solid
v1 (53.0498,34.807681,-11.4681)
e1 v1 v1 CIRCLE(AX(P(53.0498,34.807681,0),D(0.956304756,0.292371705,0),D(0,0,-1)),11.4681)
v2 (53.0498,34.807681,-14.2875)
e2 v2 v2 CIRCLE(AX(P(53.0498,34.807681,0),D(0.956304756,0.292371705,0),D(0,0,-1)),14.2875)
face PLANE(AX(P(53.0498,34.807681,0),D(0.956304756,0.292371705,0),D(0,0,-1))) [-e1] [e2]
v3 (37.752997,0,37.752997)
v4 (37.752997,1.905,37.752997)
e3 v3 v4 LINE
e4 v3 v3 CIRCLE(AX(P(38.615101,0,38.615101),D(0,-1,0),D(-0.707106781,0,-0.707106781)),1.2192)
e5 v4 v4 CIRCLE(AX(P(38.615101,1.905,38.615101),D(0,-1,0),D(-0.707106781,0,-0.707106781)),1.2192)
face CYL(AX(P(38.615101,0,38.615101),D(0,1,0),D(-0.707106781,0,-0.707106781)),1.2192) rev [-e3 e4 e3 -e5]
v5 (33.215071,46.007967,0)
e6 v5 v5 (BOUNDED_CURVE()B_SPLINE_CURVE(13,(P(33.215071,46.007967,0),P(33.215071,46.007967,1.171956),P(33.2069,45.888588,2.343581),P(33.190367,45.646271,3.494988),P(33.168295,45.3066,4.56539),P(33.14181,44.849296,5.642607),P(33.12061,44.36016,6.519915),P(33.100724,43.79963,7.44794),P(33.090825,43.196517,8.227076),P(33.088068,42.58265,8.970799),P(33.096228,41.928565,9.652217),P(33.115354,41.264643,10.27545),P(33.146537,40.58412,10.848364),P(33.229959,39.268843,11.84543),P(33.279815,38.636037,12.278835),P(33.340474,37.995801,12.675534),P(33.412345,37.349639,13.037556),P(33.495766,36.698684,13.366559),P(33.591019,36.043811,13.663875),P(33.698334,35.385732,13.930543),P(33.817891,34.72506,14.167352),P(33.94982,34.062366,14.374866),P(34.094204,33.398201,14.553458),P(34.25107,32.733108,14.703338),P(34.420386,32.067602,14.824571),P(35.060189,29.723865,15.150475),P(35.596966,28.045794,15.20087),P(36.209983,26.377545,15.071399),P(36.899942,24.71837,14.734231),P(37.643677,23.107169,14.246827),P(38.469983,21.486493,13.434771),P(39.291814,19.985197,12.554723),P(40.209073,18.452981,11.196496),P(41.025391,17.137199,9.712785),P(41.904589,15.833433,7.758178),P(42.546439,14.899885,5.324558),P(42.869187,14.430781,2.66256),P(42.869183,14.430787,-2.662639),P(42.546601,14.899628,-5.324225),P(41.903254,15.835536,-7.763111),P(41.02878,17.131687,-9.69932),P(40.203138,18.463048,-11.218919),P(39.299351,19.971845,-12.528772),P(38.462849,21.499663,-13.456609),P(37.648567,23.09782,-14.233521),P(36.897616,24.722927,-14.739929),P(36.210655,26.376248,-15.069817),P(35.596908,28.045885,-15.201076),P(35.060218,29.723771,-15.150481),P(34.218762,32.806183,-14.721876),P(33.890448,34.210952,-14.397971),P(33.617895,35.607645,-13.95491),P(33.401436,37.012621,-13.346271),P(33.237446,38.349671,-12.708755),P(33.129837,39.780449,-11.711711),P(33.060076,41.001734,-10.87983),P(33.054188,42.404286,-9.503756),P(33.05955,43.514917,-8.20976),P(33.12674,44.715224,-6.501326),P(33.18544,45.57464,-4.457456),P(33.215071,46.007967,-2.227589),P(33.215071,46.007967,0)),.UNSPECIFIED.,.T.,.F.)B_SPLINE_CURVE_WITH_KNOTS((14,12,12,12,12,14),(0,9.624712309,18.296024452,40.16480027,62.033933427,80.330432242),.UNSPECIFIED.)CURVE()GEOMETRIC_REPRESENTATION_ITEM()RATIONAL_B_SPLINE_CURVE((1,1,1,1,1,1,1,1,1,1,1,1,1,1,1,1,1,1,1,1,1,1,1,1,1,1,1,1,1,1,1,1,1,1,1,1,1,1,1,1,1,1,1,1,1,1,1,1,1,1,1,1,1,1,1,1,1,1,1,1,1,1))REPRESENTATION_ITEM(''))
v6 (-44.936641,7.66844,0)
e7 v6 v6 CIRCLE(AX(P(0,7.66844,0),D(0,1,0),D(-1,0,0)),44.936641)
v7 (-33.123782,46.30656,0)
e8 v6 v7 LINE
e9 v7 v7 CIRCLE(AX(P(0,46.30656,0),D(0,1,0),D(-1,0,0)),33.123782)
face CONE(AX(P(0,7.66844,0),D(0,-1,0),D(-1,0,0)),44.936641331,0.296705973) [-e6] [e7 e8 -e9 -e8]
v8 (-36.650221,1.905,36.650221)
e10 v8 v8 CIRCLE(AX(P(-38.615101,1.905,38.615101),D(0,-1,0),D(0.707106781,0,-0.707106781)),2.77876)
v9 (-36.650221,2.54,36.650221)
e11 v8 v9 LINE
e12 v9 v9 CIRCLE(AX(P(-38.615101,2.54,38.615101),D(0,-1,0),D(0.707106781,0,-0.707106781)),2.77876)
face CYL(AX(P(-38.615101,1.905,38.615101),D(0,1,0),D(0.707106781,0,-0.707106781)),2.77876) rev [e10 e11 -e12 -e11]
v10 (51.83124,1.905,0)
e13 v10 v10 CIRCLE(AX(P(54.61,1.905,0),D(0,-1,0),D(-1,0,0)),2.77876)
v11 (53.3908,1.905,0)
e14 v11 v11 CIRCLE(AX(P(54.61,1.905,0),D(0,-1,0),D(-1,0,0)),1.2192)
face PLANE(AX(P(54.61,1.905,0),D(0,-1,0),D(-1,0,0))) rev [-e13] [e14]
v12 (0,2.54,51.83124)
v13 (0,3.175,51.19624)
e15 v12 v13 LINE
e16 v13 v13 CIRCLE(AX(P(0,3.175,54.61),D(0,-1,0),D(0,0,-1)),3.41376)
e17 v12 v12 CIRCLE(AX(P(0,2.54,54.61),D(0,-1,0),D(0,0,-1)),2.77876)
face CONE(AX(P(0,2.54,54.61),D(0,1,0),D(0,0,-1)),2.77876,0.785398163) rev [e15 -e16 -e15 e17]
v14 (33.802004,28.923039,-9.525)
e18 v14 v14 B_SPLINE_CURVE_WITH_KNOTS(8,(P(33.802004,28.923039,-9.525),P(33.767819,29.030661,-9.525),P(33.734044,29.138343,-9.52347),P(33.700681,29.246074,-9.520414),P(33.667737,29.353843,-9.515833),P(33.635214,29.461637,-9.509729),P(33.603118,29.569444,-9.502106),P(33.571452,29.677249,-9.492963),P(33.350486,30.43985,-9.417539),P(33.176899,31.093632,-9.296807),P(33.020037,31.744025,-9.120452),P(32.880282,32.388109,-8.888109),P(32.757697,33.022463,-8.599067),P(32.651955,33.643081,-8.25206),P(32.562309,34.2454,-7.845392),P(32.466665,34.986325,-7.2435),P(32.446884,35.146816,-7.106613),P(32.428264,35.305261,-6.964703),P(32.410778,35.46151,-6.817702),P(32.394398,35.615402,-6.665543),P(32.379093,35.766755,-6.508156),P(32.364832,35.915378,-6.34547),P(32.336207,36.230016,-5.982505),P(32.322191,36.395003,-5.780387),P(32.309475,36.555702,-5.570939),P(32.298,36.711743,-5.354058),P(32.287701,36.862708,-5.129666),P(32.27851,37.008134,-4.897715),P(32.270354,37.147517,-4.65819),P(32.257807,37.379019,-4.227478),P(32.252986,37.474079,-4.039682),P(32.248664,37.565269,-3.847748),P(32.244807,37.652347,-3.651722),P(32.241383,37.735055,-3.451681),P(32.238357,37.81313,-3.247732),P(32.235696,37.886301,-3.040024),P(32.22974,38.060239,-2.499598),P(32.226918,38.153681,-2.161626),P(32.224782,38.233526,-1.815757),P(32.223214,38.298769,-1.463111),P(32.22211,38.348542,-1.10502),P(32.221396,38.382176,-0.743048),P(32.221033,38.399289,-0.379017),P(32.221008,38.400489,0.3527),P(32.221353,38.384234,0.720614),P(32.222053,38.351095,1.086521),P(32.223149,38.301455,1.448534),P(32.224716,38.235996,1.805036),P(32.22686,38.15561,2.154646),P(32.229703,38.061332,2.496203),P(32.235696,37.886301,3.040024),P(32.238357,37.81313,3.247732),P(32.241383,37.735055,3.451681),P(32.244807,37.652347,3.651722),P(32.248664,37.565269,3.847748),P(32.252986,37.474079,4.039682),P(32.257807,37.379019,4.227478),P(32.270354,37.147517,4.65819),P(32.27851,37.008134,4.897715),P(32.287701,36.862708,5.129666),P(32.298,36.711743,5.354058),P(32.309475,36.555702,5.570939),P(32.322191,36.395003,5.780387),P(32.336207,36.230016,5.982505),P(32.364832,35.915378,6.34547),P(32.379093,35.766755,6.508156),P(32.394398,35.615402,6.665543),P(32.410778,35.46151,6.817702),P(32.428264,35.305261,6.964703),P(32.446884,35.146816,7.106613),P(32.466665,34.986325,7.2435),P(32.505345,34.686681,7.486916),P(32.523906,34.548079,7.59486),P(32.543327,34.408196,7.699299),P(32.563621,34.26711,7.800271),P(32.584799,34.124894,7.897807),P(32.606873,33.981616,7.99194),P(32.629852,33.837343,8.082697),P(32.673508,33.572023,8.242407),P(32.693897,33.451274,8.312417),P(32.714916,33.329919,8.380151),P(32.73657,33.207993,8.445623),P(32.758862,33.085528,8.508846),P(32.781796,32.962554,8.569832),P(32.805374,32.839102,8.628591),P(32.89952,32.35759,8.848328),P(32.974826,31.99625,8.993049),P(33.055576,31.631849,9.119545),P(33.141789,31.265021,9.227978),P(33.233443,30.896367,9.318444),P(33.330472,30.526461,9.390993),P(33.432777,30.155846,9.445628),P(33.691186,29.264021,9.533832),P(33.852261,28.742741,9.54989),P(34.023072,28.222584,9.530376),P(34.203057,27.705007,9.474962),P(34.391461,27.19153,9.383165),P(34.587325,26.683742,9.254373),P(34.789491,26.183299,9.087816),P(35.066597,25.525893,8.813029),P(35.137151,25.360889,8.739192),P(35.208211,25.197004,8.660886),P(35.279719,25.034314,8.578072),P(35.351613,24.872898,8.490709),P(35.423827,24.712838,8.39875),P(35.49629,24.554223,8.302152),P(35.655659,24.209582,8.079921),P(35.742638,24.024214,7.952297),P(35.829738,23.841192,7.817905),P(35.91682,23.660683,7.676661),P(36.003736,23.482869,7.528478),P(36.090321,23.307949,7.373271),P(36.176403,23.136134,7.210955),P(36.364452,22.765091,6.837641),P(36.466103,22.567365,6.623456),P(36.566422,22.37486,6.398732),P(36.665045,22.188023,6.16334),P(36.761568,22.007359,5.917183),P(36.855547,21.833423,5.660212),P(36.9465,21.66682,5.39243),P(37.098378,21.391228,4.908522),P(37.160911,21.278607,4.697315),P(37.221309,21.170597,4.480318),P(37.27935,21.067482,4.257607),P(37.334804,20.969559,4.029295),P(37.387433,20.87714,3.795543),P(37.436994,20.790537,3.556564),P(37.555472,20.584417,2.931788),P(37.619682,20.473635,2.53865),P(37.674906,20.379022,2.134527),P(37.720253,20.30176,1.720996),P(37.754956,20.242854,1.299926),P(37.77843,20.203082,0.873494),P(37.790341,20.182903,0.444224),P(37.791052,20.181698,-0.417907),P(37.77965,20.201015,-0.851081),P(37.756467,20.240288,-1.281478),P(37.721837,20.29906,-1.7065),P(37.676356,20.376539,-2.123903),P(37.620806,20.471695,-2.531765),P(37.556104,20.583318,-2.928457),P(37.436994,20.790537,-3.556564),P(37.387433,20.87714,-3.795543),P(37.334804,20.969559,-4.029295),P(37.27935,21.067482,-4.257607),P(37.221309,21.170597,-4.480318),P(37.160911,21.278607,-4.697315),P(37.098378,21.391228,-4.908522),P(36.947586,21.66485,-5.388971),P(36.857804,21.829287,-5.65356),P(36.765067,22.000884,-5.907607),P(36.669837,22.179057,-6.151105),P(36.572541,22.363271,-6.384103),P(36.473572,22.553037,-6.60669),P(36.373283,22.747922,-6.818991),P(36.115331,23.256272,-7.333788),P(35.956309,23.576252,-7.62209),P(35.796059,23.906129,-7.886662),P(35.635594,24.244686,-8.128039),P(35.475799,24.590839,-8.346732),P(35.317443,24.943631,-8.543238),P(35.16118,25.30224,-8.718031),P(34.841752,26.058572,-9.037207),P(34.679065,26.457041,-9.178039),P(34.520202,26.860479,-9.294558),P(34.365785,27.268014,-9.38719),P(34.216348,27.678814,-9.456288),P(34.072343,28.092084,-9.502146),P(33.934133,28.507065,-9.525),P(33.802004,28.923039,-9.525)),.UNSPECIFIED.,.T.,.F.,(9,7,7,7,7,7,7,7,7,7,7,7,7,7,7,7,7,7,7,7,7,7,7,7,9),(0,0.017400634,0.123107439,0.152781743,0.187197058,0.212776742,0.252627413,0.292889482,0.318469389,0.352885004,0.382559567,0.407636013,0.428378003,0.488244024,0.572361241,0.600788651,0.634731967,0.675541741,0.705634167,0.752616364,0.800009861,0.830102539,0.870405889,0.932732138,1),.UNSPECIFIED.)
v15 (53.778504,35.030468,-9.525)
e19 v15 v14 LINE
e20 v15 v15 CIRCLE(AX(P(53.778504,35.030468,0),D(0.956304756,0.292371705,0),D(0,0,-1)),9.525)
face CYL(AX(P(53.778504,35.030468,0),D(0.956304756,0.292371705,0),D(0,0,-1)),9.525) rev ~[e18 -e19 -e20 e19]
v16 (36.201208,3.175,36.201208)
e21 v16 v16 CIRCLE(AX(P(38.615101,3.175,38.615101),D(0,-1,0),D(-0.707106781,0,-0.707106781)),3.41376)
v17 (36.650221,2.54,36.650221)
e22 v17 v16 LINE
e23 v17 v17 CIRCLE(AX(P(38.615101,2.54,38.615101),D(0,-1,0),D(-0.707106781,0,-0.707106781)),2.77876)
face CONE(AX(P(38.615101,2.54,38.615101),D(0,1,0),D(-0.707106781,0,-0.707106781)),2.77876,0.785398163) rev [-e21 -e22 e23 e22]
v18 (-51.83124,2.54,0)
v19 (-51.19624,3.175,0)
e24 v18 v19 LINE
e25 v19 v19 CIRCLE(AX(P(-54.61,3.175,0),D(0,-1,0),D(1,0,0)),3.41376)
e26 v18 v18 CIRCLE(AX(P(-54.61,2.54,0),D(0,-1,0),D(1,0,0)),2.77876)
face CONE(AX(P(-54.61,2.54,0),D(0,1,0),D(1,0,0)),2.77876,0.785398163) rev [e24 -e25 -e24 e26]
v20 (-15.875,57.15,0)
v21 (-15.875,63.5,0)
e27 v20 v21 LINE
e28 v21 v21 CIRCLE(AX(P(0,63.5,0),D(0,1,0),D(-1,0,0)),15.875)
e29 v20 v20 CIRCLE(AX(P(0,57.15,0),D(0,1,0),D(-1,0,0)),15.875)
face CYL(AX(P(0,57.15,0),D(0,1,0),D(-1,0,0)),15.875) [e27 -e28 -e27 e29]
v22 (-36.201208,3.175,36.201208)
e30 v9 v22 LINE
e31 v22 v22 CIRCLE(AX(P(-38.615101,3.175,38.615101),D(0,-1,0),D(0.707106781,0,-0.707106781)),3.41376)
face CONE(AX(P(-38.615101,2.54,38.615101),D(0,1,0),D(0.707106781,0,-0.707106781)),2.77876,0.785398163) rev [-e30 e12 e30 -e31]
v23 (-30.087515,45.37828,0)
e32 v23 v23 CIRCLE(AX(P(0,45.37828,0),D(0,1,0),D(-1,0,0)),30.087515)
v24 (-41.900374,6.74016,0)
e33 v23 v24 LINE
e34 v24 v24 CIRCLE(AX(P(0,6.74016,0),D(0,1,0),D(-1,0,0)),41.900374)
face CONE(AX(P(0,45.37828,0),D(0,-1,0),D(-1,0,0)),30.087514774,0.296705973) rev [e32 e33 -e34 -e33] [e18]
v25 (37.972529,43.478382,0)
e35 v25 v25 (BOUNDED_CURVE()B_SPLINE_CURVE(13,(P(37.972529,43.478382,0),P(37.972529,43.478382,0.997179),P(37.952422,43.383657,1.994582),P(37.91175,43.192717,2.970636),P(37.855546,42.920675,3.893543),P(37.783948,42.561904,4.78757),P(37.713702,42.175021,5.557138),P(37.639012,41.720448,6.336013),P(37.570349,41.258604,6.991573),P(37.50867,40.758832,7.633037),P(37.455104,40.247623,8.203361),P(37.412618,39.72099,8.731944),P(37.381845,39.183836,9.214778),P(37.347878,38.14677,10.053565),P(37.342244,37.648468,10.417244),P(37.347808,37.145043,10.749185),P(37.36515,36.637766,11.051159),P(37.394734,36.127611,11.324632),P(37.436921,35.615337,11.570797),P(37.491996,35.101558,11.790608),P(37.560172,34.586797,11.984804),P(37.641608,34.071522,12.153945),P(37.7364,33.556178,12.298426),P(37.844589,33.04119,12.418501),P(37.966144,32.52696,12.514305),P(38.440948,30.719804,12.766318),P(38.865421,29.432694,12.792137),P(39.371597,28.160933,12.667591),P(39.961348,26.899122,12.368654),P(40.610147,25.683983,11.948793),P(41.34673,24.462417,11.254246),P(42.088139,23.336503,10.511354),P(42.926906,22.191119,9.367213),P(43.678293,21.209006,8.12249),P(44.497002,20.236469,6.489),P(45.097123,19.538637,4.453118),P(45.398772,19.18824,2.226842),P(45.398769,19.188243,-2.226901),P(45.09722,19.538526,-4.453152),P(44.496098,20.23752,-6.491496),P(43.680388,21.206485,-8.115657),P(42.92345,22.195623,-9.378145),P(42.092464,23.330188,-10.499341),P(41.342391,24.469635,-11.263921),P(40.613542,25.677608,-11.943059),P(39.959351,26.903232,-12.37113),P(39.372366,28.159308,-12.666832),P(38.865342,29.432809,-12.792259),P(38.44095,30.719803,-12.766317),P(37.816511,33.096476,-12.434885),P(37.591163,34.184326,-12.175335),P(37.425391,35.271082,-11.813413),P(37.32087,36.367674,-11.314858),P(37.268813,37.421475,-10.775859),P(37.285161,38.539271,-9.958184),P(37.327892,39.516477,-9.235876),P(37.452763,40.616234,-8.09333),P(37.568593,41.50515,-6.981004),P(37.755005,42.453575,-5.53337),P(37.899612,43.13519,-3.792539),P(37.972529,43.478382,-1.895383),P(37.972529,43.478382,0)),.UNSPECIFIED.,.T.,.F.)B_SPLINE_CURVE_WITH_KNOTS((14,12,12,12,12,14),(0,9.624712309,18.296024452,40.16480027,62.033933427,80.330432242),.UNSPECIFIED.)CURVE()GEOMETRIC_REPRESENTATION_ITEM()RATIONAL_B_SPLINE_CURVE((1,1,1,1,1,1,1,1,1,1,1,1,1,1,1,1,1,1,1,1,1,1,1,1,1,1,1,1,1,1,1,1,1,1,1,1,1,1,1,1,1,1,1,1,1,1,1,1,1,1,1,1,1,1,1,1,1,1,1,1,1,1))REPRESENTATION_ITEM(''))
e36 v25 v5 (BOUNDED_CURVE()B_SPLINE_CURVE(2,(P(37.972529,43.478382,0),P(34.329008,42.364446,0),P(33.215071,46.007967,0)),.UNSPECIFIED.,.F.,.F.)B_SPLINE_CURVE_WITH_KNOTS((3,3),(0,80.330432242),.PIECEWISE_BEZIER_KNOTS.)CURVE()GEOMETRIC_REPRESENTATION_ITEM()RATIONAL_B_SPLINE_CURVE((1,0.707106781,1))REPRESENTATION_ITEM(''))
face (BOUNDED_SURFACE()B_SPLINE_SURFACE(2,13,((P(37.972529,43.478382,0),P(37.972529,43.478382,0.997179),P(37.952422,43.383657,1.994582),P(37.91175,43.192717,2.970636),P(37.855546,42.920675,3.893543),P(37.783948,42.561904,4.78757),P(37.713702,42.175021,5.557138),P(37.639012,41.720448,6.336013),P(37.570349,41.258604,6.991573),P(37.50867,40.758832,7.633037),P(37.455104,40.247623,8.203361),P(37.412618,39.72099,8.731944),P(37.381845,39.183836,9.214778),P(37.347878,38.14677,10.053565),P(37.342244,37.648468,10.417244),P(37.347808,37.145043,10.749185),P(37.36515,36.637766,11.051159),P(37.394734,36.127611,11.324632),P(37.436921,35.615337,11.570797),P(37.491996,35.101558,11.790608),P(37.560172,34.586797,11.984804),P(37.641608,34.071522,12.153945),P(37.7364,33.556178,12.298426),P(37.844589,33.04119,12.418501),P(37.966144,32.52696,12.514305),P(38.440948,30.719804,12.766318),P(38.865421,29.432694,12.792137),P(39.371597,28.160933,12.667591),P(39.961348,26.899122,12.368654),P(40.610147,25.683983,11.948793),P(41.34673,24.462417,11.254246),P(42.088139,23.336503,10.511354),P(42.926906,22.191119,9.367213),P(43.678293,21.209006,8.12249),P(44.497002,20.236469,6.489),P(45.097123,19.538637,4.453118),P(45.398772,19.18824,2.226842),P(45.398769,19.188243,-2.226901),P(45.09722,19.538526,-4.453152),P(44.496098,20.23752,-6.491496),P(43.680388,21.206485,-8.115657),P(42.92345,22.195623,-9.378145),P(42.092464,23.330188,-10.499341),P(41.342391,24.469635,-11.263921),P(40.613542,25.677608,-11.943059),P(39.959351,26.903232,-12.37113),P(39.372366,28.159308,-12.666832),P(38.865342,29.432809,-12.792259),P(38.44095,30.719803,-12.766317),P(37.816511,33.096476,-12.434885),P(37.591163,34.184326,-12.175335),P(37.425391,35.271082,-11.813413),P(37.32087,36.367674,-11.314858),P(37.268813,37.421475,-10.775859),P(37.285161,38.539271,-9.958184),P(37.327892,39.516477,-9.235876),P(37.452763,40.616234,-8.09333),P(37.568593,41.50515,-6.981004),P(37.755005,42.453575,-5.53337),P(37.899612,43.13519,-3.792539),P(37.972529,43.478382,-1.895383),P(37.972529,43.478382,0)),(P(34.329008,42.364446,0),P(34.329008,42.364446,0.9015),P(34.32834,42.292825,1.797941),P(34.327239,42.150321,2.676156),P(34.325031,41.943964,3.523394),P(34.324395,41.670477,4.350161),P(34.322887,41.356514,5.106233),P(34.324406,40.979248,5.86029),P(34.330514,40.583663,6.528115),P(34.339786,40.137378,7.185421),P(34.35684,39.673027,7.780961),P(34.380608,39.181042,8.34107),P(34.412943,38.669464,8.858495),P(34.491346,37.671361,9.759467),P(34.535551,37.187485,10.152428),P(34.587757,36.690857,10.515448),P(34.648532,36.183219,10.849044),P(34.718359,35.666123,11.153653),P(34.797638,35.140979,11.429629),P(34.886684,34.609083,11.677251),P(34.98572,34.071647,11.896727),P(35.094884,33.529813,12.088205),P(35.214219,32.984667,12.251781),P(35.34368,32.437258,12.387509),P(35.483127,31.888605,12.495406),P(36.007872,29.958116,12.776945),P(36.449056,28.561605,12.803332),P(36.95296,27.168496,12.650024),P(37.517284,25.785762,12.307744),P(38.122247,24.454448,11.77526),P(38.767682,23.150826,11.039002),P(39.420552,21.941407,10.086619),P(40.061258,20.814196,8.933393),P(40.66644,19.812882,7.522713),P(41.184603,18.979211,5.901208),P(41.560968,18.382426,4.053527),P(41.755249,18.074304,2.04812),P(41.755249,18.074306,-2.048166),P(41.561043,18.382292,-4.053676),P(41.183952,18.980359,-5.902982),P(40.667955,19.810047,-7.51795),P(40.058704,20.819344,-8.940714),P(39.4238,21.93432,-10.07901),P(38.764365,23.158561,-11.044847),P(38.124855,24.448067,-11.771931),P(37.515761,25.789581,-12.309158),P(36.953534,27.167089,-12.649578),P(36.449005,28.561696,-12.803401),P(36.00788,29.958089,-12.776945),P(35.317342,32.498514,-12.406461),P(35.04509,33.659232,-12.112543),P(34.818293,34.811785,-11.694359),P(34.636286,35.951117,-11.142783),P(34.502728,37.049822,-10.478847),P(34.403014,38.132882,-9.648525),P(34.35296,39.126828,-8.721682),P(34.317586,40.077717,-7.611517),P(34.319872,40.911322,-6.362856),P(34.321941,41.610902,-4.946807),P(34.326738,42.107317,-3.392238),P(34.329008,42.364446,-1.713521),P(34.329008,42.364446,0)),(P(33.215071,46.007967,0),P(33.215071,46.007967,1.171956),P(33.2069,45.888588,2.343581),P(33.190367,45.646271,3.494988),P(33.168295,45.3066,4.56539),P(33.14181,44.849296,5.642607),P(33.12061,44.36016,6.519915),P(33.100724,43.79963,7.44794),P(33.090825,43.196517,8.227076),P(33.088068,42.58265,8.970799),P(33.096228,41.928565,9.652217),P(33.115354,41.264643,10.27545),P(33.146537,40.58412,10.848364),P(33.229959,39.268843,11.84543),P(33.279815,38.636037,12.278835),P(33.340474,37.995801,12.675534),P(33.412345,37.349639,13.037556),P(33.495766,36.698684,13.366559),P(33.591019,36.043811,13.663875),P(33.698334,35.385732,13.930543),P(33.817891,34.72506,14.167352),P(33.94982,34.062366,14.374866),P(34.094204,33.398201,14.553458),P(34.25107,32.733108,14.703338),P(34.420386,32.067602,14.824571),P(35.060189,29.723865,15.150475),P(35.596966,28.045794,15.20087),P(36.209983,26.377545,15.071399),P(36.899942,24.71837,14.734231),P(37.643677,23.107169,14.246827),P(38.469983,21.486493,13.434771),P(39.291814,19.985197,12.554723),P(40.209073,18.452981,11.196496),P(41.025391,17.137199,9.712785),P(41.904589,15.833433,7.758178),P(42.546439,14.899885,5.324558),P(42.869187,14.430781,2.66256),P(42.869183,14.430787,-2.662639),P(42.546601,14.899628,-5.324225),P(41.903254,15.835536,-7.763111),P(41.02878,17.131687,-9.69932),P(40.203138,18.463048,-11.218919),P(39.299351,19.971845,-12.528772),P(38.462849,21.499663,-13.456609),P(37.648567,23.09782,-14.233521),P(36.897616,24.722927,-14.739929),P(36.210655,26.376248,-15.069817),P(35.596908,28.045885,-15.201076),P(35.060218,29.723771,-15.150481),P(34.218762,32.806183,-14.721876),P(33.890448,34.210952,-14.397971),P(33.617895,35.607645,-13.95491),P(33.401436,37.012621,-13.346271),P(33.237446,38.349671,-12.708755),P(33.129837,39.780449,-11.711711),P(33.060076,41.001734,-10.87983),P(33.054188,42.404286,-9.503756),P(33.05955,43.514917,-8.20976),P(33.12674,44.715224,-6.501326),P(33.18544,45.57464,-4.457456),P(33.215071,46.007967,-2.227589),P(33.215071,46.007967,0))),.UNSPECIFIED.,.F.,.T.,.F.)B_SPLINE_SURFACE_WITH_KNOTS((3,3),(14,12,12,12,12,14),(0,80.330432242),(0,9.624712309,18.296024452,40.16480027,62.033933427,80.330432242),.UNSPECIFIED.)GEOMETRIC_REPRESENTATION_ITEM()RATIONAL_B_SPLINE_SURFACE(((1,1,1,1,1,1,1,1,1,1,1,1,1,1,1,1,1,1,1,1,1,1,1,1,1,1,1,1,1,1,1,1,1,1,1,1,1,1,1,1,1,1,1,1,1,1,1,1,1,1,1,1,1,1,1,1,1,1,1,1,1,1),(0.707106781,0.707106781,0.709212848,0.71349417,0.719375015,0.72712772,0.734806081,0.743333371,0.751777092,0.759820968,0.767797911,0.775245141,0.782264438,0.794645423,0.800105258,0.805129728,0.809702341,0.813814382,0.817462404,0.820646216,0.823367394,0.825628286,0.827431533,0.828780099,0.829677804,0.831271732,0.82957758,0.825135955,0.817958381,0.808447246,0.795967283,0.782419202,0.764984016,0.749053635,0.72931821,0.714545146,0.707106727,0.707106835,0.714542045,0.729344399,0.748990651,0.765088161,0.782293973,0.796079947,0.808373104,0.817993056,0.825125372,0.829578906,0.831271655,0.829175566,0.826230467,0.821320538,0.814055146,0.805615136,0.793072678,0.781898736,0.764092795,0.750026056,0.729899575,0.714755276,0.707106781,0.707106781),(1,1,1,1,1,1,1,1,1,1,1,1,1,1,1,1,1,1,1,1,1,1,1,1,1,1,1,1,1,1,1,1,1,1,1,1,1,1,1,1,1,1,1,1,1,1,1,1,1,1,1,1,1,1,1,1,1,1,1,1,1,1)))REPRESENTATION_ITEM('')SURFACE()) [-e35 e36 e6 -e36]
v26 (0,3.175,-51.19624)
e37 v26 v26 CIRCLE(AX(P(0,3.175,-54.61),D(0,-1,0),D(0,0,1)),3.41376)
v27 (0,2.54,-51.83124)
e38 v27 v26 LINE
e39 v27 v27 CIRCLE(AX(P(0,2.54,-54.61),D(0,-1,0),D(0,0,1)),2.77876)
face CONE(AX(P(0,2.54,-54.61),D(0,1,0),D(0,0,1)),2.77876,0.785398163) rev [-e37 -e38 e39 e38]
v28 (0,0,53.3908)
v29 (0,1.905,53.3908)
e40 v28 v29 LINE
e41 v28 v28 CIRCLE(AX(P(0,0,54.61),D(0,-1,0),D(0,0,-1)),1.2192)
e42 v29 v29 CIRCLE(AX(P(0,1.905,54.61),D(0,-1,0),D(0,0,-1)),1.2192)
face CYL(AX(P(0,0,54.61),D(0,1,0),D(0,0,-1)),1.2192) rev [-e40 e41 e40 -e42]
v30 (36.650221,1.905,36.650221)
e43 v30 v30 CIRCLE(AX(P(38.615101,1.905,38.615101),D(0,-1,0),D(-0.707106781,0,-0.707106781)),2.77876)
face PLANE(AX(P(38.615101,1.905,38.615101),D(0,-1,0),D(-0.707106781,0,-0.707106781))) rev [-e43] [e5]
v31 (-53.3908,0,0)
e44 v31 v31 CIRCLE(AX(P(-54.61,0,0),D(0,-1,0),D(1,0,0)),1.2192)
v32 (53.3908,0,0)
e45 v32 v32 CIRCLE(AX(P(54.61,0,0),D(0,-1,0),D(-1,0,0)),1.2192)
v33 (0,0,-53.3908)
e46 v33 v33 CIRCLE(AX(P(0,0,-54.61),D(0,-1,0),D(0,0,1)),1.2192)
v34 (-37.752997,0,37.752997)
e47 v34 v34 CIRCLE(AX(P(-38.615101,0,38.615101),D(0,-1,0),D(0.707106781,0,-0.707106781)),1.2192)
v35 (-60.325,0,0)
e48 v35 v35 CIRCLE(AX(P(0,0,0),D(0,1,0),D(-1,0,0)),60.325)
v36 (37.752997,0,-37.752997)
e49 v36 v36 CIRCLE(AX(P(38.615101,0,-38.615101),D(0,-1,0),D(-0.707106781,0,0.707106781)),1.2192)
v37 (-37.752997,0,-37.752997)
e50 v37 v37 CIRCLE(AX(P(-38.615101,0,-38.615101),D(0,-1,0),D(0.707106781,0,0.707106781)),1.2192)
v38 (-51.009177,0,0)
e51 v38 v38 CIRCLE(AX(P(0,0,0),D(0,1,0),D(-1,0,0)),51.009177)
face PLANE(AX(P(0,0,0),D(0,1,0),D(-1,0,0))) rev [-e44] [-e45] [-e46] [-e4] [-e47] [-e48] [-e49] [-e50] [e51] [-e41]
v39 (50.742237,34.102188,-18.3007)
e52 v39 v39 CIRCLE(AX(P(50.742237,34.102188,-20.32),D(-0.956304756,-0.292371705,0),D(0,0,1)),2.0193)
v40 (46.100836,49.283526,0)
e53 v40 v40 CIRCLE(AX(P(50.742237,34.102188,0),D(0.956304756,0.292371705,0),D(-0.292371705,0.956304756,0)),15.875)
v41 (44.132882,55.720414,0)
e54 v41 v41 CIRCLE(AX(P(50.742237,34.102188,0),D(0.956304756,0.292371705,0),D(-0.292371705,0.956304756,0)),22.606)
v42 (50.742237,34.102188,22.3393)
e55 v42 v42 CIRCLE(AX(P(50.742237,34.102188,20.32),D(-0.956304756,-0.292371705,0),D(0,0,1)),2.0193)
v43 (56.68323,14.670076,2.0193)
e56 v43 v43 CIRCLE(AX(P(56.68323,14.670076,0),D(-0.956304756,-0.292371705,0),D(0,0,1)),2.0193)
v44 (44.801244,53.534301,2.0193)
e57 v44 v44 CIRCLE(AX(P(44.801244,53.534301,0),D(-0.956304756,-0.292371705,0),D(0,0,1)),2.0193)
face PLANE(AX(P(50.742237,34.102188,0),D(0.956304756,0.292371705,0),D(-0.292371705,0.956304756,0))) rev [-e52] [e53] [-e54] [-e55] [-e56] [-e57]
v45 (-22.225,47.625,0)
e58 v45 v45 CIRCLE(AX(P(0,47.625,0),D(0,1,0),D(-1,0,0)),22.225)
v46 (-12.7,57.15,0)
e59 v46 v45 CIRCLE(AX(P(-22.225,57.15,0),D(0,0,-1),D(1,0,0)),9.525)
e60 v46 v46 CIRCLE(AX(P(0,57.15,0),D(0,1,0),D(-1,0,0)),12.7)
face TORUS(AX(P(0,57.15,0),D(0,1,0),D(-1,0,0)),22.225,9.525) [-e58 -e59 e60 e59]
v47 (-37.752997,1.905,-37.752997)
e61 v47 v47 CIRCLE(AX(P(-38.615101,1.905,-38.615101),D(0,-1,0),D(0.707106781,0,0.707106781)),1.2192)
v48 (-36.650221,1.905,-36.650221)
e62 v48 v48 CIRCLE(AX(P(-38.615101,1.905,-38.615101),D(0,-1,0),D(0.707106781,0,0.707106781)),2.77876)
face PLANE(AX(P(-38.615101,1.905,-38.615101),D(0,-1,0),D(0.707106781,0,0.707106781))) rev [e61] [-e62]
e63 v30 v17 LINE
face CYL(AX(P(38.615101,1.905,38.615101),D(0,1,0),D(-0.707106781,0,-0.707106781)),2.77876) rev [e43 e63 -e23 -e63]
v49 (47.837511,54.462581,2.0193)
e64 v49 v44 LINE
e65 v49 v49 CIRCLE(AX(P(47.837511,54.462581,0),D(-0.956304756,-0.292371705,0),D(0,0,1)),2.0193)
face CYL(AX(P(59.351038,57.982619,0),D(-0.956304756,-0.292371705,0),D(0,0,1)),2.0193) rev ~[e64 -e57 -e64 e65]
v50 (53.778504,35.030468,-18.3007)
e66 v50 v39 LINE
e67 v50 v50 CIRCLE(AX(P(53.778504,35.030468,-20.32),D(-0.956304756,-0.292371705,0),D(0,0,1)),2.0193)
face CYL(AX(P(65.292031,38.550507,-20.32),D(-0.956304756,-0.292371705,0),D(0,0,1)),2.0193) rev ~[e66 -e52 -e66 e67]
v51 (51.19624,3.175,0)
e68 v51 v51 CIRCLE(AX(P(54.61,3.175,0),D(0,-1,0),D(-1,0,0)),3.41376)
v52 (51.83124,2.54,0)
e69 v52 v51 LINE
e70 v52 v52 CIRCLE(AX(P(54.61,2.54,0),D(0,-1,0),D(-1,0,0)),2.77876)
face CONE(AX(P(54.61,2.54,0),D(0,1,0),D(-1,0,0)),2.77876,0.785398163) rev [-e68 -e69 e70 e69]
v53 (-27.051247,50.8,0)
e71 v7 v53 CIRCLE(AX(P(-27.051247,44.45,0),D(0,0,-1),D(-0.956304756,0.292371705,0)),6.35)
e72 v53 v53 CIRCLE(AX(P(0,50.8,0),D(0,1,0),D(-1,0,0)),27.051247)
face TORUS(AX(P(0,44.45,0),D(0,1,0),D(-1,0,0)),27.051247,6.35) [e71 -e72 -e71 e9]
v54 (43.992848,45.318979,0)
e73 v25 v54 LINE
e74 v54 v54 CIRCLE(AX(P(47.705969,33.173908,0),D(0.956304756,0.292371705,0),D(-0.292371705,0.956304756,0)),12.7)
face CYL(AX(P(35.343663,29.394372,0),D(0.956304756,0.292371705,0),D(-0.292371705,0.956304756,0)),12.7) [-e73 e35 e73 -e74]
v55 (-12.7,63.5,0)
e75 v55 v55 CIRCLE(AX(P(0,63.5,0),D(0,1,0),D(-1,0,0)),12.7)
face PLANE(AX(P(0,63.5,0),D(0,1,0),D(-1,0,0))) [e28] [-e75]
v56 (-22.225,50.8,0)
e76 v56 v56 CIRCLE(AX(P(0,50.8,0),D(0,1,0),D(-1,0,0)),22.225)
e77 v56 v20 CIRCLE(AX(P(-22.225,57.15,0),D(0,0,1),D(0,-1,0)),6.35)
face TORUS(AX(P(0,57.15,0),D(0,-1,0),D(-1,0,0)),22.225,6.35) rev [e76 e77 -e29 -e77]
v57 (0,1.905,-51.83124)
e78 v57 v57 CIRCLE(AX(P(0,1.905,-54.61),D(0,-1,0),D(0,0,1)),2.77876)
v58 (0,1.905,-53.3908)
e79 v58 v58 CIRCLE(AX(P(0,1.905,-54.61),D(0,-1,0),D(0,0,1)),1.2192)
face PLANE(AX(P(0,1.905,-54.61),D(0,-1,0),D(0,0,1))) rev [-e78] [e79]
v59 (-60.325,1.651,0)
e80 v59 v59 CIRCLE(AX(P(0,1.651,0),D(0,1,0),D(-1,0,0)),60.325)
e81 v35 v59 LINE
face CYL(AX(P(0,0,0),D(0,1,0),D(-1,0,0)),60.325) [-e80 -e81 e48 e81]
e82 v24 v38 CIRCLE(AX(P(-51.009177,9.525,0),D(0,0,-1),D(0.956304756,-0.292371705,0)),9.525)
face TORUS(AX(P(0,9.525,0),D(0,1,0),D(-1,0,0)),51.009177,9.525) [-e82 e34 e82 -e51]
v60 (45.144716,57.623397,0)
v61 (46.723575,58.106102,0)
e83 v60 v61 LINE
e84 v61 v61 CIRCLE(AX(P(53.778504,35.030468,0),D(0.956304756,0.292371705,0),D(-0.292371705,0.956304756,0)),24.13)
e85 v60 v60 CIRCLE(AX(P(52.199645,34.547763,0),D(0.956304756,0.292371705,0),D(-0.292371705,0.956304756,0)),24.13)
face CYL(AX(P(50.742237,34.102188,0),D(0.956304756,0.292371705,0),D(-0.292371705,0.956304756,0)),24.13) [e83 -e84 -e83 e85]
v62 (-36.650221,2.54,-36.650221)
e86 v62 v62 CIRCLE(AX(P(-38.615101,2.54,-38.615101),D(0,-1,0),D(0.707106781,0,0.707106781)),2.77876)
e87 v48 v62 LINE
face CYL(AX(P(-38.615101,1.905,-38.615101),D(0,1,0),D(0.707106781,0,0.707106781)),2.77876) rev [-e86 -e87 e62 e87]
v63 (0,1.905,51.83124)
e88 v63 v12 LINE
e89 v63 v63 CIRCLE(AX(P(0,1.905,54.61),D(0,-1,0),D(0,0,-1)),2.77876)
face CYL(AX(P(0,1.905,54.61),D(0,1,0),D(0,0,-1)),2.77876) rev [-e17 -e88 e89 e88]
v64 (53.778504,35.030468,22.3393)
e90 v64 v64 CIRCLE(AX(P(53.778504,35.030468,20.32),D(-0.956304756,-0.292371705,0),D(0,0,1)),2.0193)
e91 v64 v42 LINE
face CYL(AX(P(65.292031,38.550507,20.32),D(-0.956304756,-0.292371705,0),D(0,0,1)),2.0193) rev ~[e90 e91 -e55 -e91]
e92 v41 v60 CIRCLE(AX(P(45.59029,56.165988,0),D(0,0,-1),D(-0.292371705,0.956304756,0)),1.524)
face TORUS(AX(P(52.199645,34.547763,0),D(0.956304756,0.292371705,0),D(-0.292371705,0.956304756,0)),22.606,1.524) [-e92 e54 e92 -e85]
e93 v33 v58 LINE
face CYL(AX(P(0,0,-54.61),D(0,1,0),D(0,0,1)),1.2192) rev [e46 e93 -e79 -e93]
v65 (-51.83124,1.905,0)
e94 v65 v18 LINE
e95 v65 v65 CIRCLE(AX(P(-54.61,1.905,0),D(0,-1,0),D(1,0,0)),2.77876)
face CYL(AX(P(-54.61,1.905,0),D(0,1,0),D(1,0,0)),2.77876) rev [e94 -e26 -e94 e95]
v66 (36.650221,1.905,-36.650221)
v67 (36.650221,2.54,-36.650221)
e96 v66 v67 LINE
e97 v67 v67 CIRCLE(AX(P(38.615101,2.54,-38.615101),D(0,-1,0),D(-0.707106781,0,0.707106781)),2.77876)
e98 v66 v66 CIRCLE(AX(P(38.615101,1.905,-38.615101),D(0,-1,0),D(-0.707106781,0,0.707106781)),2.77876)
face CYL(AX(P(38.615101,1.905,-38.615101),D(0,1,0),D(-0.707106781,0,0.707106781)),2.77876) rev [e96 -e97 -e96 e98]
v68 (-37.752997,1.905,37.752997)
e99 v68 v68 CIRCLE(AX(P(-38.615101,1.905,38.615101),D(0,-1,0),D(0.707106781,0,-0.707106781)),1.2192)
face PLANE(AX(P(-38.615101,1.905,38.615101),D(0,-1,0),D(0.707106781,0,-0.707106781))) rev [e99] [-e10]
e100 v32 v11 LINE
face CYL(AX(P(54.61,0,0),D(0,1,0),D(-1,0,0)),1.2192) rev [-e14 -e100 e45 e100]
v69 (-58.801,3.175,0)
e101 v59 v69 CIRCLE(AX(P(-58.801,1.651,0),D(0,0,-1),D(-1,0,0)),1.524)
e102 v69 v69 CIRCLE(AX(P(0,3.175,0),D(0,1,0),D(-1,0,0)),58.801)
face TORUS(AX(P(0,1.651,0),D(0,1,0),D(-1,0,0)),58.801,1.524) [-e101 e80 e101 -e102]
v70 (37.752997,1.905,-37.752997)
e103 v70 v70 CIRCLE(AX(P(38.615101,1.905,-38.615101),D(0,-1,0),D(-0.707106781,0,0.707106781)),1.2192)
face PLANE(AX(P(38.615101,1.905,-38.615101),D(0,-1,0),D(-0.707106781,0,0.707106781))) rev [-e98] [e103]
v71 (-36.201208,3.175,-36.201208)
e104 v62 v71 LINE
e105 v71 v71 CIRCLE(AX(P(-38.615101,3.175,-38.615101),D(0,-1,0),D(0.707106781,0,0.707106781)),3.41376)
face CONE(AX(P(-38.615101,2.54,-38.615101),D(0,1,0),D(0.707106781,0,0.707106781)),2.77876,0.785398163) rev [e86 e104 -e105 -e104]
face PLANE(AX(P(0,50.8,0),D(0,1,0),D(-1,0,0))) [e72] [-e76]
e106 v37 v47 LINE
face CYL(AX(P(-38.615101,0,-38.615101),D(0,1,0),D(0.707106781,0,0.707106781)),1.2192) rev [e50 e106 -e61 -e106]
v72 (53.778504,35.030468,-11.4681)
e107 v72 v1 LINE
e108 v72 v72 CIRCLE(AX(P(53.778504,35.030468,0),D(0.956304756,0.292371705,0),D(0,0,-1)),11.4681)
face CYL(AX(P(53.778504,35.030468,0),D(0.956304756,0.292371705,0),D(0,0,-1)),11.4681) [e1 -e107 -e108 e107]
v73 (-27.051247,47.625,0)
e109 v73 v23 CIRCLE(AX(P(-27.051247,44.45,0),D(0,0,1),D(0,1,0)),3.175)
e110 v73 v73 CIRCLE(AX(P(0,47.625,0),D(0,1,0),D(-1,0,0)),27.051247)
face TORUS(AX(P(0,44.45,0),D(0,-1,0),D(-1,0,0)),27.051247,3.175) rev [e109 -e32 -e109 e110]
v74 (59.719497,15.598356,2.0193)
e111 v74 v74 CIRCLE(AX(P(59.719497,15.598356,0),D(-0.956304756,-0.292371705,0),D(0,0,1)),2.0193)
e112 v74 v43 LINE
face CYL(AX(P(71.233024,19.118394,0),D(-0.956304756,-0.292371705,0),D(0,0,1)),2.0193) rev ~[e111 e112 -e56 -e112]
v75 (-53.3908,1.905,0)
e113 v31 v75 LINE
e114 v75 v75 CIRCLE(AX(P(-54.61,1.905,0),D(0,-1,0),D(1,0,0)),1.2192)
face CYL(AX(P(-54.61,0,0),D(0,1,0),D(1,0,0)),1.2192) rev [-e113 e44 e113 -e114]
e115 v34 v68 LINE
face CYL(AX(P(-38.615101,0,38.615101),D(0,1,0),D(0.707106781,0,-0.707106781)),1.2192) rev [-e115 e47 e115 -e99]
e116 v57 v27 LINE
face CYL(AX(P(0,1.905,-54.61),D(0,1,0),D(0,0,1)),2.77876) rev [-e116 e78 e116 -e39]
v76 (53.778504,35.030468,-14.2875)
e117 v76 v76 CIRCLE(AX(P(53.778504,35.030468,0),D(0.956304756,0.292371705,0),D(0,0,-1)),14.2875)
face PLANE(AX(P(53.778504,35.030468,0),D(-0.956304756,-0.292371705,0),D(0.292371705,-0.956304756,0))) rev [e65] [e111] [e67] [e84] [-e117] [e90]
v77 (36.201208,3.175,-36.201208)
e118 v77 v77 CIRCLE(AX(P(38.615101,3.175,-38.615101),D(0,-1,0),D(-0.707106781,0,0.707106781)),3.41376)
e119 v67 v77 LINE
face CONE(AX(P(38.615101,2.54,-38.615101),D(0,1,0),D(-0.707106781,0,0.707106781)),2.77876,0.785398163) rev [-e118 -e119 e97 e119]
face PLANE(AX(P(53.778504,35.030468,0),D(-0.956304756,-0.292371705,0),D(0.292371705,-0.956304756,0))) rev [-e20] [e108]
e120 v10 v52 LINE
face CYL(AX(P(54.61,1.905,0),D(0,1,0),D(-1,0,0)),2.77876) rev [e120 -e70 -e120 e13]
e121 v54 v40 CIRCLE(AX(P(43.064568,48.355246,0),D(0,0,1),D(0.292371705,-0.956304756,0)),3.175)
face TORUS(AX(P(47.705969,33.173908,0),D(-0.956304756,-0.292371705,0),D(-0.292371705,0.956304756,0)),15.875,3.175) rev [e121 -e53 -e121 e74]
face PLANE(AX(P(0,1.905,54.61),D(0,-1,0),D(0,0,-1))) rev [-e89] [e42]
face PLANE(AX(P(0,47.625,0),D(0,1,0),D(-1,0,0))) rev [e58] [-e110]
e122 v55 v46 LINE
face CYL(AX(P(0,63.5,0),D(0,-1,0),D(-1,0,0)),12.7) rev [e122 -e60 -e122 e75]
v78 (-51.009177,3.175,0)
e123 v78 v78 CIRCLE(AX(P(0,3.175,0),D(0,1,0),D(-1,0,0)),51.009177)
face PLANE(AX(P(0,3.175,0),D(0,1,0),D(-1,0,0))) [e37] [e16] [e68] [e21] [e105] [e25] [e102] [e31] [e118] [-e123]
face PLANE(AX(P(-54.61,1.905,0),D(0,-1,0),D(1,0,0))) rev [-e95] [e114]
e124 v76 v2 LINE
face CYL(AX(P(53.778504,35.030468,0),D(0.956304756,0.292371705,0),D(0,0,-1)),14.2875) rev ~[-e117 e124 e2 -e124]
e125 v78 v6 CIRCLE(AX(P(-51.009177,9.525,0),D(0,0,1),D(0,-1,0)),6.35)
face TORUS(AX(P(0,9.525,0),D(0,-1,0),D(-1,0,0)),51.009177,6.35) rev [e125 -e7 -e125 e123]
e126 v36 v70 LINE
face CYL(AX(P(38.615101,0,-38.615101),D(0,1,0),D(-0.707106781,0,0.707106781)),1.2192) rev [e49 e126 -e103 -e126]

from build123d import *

# Parameters (mm, degrees)
FILLET1_R                  = 1.524
CIRPATTERN1_COUNT          = 8
FILLET2_R                  = 3.81
FILLET3_R                  = 1.524
CUT_EXTRUDE1_REACH         = 121.36
SKETCH6_R                  = 9.525
SKETCH10_R                 = 14.2875
SKETCH10_R_2               = 11.4681
CUT_EXTRUDE2_DEPTH         = 0.762
F_10_32_TAPPED_HOLE1_D     = 4.0386
F_10_32_TAPPED_HOLE1_DEPTH = 12.0396
F_10_32_TAPPED_HOLE1_TIP   = 1.213317848


with BuildPart() as part:
    # Sketch1 → Revolve1 (revolve)
    with BuildSketch(Plane.XY):
        with BuildLine():
            Line((-60.325, 0), (-60.325, 3.175))
            Line((-60.325, 3.175), (-51.009176531, 3.175))
            ThreePointArc((-51.009176531, 3.175), (-47.232051835, 4.420508935), (-44.936641331, 7.668439675))
            Line((-44.936641331, 7.668439675), (-33.123782374, 46.306560325))
            ThreePointArc((-33.123782374, 46.306560325), (-30.828371869, 49.554491065), (-27.051247174, 50.8))
            Line((-27.051247174, 50.8), (-22.225, 50.8))
            ThreePointArc((-22.225, 50.8), (-17.734871939, 52.659871939), (-15.875, 57.15))
            Line((-15.875, 57.15), (-15.875, 63.5))
            Line((-15.875, 63.5), (-12.7, 63.5))
            Line((-12.7, 63.5), (-12.7, 57.15))
            ThreePointArc((-12.7, 57.15), (-15.489807909, 50.414807909), (-22.225, 47.625))
            Line((-22.225, 47.625), (-27.051247174, 47.625))
            ThreePointArc((-27.051247174, 47.625), (-28.939809522, 47.002245532), (-30.087514774, 45.378280162))
            Line((-30.087514774, 45.378280162), (-41.90037373, 6.740159513))
            ThreePointArc((-41.90037373, 6.740159513), (-45.343489487, 1.868263403), (-51.009176531, 0))
            Line((-51.009176531, 0), (-60.325, 0))
        make_face()
    revolve(axis=Axis((0, 0, 0), (0, 1, 0)))

    # Fillet1
    fillet1_edges = [part.edges().sort_by_distance(p)[0] for p in [
        (60.325, 3.175, 0),
    ]]
    fillet(fillet1_edges, radius=FILLET1_R)

    # Sketch2 → CBORE for #2 Binding Head Machine Screw1 (revolve, cut)
    with BuildSketch(Plane(origin=(0, 3.175, -54.61), x_dir=(0, 0, 1), z_dir=(1, 0, 0))):
        Polygon((0, 0), (0, 3.175), (1.2192, 3.175), (1.2192, 1.27), (2.77876, 1.27), (2.77876, 0.635), (3.41376, 0), align=None)
    cbore_for_2_binding_head_machine_screw1 = revolve(axis=Axis((0, 9.525, -54.61), (0, -1, 0)), mode=Mode.SUBTRACT)

    # CirPattern1: CBORE for #2 Binding Head Machine Screw1 ×8 about axis
    cirpattern1_axis = Axis((0, 0, 0), (0, 1, 0))
    for i in range(1, CIRPATTERN1_COUNT):
        add(cbore_for_2_binding_head_machine_screw1.rotate(cirpattern1_axis, i * 360 / CIRPATTERN1_COUNT), mode=Mode.SUBTRACT)

    # Sketch5 → Revolve2 (revolve)
    with BuildSketch(Plane.XY):
        with BuildLine():
            Line((31.63054264, 41.539442423), (43.992848292, 45.318978554))
            ThreePointArc((43.992848292, 45.318978554), (45.867926737, 46.864673943), (46.10083573, 49.283526317))
            Line((46.10083573, 49.283526317), (43.687307308, 57.177822078))
            Line((43.687307308, 57.177822078), (46.723574908, 58.10610224))
            Line((46.723574908, 58.10610224), (53.778504143, 35.030468479))
            Line((53.778504143, 35.030468479), (35.34366329, 29.394372022))
            Line((35.34366329, 29.394372022), (31.63054264, 41.539442423))
        make_face()
    revolve(axis=Axis((0, 18.588729759, 0), (0.956304756, 0.292371705, 0)))

    # Fillet2
    fillet2_edges = [part.edges().sort_by_distance(p)[0] for p in [
        (41.755248979, 18.074305177, 0),
    ]]
    fillet(fillet2_edges, radius=FILLET2_R)

    # Fillet3
    fillet3_edges = [part.edges().sort_by_distance(p)[0] for p in [
        (57.797165778, 11.026554555, 0),
    ]]
    fillet(fillet3_edges, radius=FILLET3_R)

    # Sketch6 → Cut-Extrude1 (cut, up to next)
    with BuildSketch(Plane(origin=(58.975847026, 18.030725901, 0), x_dir=(0, 0, -1), z_dir=(0.956304756, 0.292371705, 0)), mode=Mode.PRIVATE) as cut_extrude1_sk1:
        with Locations((0, 17.776490676)):
            Circle(SKETCH6_R)
    cut_extrude1_tool1 = extrude(cut_extrude1_sk1.sketch, amount=-CUT_EXTRUDE1_REACH, mode=Mode.PRIVATE) & part.part
    add(cut_extrude1_tool1.solids().sort_by_distance((53.778504, 35.030468, 0))[0], mode=Mode.SUBTRACT)

    # Sketch10 → Cut-Extrude2 (cut)
    with BuildSketch(Plane(origin=(58.975847026, 18.030725901, 0), x_dir=(0, 0, -1), z_dir=(0.956304756, 0.292371705, 0))):
        with Locations((0, 17.776490676)):
            Circle(SKETCH10_R)
        with Locations((0, 17.776490676)):
            Circle(SKETCH10_R_2, mode=Mode.SUBTRACT)
    extrude(amount=-CUT_EXTRUDE2_DEPTH, mode=Mode.SUBTRACT)

    # #10-32 Tapped Hole1
    with Locations(Plane(origin=(58.975847026, 18.030725901, 0), x_dir=(0, 0, -1), z_dir=(0.956304756, 0.292371705, 0))):
        with Locations((-20.32, 17.776490676), (0, 38.096490676), (20.32, 17.776490676), (0, -2.543509324)):
            Hole(F_10_32_TAPPED_HOLE1_D / 2, depth=F_10_32_TAPPED_HOLE1_DEPTH)
            with Locations((0, 0, -(F_10_32_TAPPED_HOLE1_DEPTH + F_10_32_TAPPED_HOLE1_TIP / 2))):  # 118° drill point
                Cone(0, F_10_32_TAPPED_HOLE1_D / 2, F_10_32_TAPPED_HOLE1_TIP, mode=Mode.SUBTRACT)


solid = part.part
